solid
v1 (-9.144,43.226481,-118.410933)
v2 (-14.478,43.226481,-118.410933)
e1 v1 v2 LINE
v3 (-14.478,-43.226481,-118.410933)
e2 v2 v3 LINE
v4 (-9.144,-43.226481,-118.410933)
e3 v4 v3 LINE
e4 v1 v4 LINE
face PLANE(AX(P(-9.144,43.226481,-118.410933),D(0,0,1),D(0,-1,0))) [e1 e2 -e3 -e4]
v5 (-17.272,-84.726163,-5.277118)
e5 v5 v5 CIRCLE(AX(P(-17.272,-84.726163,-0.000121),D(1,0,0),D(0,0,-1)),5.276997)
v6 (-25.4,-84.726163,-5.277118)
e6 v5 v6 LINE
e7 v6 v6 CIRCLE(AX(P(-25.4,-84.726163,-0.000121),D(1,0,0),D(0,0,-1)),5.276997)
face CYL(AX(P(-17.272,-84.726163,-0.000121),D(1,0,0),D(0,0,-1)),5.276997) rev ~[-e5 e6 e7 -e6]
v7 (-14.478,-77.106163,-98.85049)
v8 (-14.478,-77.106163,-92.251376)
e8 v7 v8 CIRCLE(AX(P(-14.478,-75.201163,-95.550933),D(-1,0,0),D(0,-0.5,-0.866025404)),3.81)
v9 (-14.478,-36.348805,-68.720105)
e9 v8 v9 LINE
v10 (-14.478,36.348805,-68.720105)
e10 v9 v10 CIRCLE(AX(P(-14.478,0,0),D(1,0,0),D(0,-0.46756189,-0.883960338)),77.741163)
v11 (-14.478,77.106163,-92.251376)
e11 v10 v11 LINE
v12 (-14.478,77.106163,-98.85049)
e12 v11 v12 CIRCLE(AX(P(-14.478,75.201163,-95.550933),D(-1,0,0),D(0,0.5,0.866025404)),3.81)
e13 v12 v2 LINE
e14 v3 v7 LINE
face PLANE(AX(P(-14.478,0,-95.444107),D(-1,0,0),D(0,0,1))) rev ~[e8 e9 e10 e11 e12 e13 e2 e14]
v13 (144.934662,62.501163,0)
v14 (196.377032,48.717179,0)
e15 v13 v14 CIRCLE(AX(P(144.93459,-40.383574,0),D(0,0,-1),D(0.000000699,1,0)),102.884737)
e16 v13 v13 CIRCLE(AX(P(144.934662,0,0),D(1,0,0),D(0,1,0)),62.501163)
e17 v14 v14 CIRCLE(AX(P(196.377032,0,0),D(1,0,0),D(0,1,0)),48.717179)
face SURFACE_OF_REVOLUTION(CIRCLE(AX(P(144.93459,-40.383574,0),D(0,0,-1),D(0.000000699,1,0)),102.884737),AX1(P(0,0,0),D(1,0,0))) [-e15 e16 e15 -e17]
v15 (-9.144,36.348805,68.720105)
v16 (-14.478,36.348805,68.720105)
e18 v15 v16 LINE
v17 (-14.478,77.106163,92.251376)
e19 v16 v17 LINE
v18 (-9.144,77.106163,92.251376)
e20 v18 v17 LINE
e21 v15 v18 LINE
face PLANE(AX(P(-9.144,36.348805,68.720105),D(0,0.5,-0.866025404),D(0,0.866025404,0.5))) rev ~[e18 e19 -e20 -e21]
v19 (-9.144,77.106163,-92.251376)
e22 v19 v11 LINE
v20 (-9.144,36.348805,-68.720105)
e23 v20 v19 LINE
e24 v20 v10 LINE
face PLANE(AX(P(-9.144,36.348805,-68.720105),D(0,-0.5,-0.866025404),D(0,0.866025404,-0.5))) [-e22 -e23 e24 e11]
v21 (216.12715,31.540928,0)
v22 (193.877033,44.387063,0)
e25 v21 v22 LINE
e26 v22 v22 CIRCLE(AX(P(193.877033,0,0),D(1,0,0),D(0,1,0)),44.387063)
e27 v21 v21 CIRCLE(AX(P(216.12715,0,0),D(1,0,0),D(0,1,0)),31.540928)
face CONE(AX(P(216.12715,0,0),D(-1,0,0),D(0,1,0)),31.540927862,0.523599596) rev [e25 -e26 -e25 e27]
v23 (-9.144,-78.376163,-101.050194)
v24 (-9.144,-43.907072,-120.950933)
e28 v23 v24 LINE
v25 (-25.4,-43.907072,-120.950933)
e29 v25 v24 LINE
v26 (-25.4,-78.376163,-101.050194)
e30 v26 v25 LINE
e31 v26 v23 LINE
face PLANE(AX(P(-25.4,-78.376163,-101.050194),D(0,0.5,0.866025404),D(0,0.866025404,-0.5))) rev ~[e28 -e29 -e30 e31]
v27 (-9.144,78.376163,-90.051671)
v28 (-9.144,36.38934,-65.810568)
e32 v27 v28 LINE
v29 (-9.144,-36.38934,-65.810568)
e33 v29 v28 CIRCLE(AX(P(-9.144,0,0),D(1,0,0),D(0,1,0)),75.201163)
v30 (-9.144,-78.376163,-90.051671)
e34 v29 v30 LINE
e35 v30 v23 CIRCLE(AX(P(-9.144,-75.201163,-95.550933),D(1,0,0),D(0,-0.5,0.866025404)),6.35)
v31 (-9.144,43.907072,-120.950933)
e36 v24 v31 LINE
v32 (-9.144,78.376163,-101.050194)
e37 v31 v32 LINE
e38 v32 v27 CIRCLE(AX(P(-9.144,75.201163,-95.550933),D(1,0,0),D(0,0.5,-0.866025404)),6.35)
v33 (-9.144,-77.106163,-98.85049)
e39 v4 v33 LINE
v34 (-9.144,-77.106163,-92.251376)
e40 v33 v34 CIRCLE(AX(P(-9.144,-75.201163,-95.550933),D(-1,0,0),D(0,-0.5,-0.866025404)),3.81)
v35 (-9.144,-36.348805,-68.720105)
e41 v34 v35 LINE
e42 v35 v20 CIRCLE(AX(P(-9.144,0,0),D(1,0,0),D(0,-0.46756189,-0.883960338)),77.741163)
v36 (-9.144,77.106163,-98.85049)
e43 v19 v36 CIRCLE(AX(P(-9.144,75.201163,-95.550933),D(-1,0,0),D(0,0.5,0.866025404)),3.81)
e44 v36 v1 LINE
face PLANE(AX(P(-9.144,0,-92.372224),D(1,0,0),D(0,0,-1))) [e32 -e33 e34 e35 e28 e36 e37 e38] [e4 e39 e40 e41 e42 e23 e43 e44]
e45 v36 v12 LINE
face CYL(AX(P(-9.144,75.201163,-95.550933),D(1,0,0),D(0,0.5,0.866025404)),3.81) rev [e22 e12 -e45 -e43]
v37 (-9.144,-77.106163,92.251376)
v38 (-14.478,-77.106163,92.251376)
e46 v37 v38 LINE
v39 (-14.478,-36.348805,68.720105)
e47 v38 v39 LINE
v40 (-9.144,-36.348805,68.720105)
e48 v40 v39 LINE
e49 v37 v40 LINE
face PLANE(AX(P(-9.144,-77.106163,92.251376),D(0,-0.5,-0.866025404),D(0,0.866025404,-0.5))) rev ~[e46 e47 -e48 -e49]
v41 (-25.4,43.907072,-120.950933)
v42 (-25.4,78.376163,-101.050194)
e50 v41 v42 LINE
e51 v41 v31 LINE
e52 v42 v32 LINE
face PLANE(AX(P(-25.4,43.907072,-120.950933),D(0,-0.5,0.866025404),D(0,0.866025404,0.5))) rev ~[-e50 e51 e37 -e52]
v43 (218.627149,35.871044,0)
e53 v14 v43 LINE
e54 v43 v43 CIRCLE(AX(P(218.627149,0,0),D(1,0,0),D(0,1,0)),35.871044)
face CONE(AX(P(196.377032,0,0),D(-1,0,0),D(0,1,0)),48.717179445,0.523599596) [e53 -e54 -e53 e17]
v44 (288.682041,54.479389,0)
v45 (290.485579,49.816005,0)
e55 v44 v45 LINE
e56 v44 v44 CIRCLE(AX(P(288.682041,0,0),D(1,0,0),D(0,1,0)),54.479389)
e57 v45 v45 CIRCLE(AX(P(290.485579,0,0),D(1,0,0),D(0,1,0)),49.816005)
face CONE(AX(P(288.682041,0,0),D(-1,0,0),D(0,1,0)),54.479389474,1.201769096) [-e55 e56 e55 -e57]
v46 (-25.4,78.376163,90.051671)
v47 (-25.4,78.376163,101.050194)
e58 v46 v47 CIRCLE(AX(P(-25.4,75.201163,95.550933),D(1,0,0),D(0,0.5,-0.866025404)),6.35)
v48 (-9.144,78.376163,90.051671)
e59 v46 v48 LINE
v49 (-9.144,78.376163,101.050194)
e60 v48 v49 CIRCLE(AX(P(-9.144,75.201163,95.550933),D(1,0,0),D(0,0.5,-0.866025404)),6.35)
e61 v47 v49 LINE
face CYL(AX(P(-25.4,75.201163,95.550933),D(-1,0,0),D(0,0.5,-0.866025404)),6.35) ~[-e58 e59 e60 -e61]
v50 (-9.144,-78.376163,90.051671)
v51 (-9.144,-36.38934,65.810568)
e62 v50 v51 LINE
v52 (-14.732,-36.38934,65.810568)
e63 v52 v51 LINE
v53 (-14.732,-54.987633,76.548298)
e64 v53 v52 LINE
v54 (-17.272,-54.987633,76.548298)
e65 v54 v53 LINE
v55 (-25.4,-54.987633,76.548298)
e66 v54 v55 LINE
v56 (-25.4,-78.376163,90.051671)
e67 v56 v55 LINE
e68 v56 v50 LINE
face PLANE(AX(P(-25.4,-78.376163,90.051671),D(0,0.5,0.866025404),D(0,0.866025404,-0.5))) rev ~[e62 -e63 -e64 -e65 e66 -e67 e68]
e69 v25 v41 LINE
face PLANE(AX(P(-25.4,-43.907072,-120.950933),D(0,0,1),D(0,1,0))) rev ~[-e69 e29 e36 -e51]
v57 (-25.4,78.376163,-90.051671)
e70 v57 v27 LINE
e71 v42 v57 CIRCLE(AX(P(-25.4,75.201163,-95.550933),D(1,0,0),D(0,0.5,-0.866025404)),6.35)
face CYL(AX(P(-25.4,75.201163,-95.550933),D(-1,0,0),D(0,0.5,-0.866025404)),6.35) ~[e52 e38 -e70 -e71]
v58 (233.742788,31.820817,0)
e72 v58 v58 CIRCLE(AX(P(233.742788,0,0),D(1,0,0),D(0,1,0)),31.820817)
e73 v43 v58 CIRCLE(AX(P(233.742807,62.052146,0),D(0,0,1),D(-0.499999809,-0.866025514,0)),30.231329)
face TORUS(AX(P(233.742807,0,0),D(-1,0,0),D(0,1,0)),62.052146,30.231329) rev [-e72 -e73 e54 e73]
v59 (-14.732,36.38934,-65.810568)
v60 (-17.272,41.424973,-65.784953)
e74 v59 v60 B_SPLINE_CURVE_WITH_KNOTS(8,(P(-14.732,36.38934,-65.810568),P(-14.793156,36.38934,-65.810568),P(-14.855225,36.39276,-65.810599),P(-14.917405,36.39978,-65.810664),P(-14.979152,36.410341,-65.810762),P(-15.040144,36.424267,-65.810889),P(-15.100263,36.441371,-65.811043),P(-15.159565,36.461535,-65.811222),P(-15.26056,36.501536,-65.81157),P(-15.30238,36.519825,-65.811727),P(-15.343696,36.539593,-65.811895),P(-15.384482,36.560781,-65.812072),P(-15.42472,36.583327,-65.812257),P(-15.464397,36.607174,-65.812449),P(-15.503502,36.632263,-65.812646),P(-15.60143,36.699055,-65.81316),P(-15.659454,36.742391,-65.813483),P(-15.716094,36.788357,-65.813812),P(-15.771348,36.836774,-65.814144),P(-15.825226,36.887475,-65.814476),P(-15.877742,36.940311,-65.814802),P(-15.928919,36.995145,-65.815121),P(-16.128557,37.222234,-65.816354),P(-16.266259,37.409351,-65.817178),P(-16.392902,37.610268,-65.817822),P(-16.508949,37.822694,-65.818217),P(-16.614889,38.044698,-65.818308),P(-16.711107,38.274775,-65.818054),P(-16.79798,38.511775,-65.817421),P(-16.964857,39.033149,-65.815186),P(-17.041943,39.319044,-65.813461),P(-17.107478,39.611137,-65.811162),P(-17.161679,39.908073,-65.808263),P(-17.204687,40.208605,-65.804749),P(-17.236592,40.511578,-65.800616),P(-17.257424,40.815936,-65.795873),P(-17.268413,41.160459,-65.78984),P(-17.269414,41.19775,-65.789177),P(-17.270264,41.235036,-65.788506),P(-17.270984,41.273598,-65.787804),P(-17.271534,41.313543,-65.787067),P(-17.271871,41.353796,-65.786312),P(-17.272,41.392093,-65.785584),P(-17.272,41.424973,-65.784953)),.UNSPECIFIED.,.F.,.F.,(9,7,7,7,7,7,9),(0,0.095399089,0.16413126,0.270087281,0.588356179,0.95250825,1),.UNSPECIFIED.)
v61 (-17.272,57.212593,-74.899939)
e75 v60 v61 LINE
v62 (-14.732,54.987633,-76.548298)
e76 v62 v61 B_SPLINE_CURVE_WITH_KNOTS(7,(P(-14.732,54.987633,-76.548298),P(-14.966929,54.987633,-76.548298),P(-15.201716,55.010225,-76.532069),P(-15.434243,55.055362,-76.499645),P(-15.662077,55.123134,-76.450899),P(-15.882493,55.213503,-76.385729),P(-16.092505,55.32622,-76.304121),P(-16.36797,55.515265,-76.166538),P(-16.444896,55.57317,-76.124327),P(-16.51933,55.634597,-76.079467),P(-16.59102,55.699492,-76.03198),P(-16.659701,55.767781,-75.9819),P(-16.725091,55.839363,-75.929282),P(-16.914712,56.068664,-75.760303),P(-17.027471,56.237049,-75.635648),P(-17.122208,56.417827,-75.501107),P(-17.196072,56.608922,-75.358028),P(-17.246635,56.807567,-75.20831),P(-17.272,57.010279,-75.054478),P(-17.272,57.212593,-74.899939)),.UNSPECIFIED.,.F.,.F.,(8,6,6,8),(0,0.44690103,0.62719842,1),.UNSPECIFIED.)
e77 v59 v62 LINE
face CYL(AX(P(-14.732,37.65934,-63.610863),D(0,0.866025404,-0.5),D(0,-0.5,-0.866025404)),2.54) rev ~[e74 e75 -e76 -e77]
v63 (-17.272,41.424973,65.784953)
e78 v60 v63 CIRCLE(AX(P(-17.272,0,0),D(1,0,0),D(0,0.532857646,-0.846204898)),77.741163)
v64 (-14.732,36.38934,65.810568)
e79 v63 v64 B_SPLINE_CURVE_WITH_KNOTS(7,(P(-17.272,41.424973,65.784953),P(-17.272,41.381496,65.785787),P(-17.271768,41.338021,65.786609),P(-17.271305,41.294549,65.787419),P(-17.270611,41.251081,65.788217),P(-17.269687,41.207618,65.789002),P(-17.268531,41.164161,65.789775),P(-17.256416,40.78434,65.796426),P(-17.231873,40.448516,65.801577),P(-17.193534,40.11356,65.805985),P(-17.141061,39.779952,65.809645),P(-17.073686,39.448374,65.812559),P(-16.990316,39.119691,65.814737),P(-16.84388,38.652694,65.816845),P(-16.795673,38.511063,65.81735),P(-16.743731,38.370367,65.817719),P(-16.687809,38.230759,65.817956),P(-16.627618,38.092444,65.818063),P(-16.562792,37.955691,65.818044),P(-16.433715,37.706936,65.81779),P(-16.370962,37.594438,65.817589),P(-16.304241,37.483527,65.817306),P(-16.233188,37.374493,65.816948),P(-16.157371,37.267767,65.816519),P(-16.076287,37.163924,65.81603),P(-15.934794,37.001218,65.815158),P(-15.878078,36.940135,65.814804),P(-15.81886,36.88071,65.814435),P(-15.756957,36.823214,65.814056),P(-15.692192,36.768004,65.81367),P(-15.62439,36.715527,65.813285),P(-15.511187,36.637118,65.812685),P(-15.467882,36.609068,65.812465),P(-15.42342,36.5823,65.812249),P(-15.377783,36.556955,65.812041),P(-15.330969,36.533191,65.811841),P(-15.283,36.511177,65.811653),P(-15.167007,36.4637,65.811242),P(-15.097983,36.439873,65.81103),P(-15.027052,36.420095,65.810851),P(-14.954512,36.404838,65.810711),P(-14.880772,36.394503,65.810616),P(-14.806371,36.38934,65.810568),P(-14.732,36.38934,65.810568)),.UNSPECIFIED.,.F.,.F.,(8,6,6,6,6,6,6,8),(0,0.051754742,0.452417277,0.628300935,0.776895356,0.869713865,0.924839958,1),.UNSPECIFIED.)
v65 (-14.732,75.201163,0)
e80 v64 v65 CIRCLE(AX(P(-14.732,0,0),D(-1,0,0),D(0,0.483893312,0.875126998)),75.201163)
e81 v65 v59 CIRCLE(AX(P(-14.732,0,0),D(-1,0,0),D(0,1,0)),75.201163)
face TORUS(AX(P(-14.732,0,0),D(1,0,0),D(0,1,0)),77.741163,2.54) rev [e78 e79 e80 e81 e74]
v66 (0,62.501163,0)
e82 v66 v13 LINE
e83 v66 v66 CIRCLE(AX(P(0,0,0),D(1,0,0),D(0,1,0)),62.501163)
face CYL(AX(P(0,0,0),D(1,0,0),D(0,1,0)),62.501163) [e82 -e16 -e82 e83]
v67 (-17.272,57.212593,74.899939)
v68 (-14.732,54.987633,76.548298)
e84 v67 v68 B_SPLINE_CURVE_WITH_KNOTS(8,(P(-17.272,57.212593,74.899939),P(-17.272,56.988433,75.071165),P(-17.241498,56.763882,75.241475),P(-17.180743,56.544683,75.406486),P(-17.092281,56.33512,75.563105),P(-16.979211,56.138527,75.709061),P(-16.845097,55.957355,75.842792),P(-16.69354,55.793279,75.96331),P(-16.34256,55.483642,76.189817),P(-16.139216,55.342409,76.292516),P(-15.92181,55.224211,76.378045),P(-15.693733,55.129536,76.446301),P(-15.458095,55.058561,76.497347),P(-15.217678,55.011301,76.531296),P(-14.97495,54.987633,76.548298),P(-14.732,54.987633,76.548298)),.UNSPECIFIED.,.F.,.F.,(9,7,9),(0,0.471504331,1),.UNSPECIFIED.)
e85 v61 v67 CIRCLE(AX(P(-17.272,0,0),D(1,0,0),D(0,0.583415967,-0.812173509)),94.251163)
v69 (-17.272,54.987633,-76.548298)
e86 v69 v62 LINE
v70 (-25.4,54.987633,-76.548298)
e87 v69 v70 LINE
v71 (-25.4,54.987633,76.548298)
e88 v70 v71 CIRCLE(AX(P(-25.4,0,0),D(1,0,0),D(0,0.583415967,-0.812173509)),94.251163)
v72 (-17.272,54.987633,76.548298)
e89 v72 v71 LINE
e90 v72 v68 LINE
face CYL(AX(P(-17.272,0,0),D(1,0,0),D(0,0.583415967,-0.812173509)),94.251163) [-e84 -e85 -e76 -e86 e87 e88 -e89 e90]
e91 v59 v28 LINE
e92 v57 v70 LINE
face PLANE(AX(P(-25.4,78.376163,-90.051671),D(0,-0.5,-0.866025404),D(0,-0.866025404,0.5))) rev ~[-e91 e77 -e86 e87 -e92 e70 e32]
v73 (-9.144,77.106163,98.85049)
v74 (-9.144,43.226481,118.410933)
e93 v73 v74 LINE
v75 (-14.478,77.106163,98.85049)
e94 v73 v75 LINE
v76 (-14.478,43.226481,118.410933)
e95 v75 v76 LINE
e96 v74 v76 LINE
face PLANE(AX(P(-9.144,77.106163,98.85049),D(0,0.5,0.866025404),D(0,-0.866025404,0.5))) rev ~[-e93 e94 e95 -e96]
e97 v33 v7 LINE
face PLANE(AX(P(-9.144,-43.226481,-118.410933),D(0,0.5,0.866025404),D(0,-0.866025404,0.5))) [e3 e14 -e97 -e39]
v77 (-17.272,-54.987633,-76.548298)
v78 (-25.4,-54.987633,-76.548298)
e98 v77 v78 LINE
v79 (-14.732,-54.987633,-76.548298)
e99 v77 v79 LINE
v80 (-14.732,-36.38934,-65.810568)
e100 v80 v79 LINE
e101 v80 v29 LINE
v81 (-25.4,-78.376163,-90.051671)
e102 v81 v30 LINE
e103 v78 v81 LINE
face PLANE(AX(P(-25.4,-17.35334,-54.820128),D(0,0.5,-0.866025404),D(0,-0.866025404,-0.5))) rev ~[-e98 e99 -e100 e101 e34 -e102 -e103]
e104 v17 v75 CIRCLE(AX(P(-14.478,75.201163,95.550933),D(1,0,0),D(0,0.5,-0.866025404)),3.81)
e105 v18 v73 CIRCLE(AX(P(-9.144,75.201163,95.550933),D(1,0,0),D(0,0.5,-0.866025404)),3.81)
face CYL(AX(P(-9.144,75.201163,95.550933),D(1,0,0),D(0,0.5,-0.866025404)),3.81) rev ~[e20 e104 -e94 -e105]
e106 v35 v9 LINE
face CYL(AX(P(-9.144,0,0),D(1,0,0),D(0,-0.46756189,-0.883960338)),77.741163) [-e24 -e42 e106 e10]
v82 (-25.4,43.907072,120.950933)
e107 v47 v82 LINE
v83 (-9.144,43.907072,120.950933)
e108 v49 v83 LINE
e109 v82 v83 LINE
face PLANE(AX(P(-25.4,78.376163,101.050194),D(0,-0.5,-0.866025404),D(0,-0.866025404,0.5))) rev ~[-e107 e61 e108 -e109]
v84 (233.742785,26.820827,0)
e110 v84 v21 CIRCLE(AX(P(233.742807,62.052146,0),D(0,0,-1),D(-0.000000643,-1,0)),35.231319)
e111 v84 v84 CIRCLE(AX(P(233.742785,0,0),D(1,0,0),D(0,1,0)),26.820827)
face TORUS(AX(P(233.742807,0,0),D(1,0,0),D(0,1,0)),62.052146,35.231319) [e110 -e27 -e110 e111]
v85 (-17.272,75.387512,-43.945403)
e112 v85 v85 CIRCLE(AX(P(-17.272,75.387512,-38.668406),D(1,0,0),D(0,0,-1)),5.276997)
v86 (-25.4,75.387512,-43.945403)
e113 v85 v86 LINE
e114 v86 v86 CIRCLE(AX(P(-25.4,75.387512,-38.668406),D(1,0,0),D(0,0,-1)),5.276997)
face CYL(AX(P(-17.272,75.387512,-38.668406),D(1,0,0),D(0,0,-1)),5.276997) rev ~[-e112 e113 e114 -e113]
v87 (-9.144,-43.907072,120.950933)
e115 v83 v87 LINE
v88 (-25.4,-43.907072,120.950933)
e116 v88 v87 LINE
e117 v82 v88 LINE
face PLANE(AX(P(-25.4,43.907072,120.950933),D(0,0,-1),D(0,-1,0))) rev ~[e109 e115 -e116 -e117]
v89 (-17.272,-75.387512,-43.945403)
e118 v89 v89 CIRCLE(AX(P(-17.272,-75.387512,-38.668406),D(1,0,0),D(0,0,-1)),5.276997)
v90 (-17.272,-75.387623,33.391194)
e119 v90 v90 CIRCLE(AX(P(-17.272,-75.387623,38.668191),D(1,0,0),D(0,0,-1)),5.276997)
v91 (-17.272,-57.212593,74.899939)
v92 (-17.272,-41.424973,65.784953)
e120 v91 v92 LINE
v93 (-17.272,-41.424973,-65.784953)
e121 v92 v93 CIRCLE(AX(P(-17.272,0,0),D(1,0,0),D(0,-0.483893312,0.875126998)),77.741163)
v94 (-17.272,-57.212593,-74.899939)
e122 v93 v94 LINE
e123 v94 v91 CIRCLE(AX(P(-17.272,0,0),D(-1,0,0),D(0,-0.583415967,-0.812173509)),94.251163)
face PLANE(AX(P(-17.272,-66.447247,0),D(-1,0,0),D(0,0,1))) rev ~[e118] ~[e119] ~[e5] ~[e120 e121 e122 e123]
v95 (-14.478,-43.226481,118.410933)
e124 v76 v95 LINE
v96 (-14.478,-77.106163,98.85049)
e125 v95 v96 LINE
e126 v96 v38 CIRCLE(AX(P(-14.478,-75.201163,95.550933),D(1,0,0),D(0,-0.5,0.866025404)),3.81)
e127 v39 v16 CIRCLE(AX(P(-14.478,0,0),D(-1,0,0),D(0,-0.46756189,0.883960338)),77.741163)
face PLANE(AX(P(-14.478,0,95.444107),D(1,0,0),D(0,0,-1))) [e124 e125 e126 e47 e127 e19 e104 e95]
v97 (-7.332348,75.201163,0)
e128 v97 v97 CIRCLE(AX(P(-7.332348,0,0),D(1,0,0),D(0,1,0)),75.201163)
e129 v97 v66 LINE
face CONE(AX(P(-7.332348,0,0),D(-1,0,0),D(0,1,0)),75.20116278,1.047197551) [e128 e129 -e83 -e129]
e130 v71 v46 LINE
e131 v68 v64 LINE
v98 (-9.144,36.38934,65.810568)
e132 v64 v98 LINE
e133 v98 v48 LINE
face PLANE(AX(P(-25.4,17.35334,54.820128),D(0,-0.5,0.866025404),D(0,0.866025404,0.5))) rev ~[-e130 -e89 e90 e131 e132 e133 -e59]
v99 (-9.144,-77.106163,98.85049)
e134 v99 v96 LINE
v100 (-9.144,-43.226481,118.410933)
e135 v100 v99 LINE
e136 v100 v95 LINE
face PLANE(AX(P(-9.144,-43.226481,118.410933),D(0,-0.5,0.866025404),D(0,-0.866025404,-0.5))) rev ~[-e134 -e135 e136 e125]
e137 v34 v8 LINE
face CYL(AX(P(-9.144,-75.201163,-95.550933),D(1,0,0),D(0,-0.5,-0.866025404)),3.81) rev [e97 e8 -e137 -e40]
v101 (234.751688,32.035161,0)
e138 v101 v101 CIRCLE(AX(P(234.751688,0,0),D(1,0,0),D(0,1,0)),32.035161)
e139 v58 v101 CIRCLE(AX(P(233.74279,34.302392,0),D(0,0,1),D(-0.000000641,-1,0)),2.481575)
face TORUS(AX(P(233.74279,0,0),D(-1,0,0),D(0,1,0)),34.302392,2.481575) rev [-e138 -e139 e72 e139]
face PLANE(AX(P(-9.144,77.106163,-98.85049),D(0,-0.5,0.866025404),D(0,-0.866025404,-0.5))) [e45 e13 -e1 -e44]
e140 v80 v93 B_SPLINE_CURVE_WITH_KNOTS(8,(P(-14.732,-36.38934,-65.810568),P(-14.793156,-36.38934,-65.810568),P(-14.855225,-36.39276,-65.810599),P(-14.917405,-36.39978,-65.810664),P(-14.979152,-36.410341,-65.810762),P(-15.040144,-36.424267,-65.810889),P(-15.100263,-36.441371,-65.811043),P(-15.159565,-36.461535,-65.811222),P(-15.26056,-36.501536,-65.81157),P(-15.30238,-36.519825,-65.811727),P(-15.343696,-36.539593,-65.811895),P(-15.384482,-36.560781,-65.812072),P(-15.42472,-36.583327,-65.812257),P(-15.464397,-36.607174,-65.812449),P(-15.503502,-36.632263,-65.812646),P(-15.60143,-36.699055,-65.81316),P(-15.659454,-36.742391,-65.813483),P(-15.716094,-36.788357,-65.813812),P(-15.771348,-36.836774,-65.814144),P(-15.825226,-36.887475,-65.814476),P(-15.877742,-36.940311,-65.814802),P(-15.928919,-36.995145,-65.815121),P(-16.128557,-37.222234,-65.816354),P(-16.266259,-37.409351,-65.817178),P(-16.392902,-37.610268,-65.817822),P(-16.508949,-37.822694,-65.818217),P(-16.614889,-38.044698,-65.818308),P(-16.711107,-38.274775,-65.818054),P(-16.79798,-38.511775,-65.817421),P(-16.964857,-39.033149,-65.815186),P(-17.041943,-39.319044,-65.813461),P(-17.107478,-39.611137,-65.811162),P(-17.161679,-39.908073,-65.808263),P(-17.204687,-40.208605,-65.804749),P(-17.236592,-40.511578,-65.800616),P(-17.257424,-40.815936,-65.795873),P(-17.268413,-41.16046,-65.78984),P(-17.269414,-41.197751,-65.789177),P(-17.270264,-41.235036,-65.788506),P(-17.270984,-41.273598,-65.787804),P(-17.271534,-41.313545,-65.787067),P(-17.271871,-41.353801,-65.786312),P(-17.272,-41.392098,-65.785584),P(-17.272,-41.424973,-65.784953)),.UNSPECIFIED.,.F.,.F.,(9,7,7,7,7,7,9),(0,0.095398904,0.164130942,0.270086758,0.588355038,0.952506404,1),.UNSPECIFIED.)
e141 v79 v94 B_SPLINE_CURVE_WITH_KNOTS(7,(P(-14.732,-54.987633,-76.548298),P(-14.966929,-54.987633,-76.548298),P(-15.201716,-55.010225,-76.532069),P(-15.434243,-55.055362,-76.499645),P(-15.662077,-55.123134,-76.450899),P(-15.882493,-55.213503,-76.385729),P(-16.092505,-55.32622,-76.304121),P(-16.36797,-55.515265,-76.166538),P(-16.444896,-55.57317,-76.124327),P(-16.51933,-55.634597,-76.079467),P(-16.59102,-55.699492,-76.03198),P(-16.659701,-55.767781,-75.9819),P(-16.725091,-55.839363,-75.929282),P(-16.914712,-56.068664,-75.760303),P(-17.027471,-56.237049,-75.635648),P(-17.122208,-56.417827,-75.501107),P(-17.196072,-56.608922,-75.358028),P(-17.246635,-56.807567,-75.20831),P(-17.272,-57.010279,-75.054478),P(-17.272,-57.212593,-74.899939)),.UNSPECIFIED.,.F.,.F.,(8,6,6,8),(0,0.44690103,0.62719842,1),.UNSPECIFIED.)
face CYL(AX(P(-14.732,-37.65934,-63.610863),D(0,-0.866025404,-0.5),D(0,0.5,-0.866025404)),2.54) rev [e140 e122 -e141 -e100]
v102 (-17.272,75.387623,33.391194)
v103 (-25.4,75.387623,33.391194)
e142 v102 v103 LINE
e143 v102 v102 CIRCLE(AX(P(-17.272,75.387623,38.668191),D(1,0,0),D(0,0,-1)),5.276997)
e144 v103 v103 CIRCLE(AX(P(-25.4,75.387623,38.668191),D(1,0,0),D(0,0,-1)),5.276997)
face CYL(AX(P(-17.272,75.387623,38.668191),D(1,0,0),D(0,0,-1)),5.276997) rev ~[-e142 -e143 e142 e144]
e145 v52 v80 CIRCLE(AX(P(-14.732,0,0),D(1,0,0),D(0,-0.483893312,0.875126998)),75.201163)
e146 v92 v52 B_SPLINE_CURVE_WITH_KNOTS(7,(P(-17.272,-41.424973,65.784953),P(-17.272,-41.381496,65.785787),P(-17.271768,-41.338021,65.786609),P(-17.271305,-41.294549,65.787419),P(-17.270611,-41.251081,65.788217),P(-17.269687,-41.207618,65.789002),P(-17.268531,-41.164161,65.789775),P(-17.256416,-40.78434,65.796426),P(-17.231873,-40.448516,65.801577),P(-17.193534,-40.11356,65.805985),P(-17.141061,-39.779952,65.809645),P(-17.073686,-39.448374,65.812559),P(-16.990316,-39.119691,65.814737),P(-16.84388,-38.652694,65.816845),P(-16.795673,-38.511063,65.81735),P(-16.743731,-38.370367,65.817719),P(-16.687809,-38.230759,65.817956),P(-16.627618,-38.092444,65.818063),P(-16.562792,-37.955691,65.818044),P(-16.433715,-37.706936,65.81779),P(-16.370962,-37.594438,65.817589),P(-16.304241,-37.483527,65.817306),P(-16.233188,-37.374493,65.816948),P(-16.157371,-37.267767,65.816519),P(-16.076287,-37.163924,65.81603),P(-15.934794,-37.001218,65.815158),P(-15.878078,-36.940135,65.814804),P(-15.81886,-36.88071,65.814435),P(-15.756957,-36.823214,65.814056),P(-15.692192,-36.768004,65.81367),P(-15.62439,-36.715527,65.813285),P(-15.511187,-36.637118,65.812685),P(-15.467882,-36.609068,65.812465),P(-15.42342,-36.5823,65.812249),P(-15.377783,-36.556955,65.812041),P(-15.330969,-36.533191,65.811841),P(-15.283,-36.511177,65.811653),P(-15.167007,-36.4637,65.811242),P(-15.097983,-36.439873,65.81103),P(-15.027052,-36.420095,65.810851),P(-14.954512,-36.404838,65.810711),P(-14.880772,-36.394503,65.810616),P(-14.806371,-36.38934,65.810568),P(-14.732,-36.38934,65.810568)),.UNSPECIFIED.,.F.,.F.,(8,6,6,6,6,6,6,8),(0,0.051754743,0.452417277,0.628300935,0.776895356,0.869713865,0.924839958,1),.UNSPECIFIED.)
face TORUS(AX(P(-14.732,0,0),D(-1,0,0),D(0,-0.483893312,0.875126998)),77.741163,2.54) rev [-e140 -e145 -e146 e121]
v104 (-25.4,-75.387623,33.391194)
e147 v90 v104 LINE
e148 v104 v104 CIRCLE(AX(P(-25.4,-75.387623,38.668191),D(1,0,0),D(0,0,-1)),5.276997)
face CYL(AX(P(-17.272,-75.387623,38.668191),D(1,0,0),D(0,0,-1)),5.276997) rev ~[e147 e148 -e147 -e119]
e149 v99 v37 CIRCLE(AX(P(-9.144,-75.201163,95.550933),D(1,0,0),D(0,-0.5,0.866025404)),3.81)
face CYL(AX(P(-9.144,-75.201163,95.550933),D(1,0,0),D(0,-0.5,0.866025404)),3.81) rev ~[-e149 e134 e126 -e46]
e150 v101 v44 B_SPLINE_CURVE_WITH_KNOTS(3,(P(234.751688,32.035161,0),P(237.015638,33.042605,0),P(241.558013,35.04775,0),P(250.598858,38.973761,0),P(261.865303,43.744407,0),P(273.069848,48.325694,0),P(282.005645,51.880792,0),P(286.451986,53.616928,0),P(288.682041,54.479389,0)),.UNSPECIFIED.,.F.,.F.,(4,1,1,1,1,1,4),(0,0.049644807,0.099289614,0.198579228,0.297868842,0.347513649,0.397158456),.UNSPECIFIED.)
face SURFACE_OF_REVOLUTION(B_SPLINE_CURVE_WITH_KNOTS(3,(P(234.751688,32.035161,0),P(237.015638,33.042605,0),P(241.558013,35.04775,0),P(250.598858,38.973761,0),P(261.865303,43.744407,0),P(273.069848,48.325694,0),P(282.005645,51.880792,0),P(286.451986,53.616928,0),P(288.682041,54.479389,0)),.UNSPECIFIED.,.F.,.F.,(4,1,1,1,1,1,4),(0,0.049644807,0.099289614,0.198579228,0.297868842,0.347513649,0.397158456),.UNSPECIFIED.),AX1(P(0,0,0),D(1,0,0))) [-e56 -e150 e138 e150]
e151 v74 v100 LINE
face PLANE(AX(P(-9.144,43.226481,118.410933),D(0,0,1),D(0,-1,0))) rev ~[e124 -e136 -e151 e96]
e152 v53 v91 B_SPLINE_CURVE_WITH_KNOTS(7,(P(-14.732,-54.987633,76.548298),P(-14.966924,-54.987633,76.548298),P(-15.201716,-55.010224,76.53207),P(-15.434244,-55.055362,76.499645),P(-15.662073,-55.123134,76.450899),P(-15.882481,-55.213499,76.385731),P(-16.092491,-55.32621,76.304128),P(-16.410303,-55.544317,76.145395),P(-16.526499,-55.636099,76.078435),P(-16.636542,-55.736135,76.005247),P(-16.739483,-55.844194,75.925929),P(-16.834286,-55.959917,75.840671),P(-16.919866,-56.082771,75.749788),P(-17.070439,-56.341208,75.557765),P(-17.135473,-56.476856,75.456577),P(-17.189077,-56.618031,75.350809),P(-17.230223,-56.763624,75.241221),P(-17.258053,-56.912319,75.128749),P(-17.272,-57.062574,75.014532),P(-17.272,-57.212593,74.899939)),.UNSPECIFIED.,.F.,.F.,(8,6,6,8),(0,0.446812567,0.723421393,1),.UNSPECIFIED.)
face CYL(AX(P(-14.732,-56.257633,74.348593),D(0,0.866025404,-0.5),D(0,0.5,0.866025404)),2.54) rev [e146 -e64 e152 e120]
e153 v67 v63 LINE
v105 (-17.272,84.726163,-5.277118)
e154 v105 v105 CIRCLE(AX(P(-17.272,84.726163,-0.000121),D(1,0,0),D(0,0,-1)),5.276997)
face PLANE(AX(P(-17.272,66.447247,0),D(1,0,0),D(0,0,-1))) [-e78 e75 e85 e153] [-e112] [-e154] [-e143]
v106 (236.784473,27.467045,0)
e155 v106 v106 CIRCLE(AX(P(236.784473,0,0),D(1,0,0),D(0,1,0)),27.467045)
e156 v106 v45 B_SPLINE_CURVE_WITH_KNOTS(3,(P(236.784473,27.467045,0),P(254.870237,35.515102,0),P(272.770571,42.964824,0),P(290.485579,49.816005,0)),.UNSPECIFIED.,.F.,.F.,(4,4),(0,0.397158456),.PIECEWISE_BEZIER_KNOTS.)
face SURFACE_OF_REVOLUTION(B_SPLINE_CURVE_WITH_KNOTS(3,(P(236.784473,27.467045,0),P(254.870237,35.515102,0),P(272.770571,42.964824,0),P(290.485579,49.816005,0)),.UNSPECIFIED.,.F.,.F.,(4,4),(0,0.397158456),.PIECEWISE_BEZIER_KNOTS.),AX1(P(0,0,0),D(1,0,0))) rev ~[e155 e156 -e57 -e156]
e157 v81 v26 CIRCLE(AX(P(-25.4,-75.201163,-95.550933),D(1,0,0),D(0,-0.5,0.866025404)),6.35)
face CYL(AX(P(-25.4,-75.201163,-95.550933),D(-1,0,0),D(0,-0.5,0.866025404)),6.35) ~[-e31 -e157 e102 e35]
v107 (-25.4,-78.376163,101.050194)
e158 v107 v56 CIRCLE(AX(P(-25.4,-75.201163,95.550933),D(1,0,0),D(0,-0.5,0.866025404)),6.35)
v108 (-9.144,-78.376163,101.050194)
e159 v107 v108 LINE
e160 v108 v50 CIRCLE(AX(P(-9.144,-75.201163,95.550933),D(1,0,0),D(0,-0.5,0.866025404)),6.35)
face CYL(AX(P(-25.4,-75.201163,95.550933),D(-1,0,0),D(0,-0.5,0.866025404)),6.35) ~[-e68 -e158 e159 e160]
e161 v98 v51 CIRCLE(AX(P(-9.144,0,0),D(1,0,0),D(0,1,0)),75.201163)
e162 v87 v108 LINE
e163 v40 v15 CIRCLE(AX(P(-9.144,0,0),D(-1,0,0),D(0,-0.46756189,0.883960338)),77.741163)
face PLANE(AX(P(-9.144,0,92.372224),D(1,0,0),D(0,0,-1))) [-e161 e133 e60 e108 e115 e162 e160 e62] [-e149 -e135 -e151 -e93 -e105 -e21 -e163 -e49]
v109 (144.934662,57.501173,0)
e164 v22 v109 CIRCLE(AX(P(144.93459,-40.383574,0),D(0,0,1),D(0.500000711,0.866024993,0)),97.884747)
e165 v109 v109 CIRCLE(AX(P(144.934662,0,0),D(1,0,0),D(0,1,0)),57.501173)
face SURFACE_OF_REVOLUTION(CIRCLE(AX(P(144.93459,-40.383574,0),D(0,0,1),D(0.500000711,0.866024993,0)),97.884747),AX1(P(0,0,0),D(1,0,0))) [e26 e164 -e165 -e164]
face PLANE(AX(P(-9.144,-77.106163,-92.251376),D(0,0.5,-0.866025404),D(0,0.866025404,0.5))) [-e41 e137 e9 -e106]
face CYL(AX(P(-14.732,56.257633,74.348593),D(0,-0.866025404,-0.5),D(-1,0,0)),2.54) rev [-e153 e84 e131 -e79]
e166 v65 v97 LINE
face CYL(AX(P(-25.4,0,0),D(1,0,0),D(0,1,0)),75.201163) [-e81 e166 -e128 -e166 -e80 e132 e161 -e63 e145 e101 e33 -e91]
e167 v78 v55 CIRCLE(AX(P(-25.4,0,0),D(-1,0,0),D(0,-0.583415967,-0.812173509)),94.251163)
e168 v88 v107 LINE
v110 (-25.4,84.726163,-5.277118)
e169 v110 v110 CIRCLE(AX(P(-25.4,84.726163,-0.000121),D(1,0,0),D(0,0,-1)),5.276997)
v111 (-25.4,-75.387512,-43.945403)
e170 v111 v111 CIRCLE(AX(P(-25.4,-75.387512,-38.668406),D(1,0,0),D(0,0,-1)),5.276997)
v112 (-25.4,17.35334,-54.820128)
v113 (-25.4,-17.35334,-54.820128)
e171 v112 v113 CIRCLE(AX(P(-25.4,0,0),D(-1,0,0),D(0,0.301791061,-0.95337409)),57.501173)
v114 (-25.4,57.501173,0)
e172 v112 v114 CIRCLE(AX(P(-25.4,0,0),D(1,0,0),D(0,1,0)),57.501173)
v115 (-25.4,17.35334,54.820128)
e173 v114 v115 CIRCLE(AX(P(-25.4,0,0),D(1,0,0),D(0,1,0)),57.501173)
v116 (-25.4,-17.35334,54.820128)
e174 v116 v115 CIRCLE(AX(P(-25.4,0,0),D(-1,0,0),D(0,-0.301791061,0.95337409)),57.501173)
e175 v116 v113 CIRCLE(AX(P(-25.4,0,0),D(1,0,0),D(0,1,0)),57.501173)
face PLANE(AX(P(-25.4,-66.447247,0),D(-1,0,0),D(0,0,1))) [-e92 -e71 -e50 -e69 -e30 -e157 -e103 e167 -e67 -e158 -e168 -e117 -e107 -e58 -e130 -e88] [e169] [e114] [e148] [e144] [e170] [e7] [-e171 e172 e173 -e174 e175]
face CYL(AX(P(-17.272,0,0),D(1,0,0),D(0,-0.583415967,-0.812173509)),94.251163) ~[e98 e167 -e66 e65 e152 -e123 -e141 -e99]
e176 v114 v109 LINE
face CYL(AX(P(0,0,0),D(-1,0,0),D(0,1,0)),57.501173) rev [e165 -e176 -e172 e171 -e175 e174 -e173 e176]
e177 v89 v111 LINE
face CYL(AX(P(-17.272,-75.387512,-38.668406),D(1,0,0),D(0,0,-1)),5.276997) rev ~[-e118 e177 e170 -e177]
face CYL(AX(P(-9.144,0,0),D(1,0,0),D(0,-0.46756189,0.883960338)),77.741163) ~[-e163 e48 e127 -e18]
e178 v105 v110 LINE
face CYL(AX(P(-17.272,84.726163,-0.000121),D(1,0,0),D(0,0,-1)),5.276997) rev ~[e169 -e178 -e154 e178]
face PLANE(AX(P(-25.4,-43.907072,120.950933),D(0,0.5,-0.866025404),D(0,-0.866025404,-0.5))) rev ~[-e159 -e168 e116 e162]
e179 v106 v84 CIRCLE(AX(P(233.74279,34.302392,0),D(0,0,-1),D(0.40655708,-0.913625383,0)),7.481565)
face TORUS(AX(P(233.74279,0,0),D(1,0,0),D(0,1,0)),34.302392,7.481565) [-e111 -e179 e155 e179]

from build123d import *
from build123d.topology import SkipClean

# Parameters (mm, degrees)
BOSS_EXTRUDE1_DEPTH = 16.256
CUT_EXTRUDE1_DEPTH  = 5.334
BOSS_EXTRUDE2_START = -8.128
BOSS_EXTRUDE2_DEPTH = 8.128
FILLET2_R           = 2.54
SKETCH9_R           = 5.276996688
CUT_EXTRUDE2_DEPTH  = 344.8417333


with BuildPart() as part:
    # Sketch3 → Revolve1 (revolve)
    with BuildSketch(Plane.XY):
        with BuildLine():
            Line((0, 62.50116278), (144.934662069, 62.50116278))
            ThreePointArc((144.934662069, 62.50116278), (171.563195097, 58.995430145), (196.377031865, 48.717179445))
            Line((196.377031865, 48.717179445), (218.627148666, 35.871044168))
            ThreePointArc((218.627148666, 35.871044168), (225.918357505, 32.850926621), (233.742787922, 31.820817416))
            ThreePointArc((233.742787922, 31.820817416), (234.25849688, 31.874994553), (234.751688107, 32.035161047))
            add(Edge.make_bspline(
                [(234.751688107, 32.035161047), (237.01563786, 33.042605222), (241.558012865, 35.047750332), (250.598858454, 38.973761134), (261.865302755, 43.744407277), (273.069848062, 48.325693823), (282.005645487, 51.880791718), (286.451986012, 53.616927894), (288.682041358, 54.479389474)],
                knots=[0, 0, 0, 0, 0.049644807, 0.099289614, 0.198579228, 0.297868842, 0.347513649, 0.397158456, 0.397158456, 0.397158456, 0.397158456], degree=3))
            Line((288.682041358, 54.479389474), (290.485579361, 49.816005438))
            add(Edge.make_bspline(
                [(236.784472704, 27.467044719), (254.870236719, 35.51510214), (272.770570963, 42.964823847), (290.485579361, 49.816005438)],
                knots=[0, 0, 0, 0, 0.397158456, 0.397158456, 0.397158456, 0.397158456], degree=3))
            ThreePointArc((236.784472704, 27.467044719), (235.297572794, 26.98416423), (233.742784709, 26.820827416))
            ThreePointArc((233.742784709, 26.820827416), (224.624261333, 28.021308096), (216.127150111, 31.540927862))
            Line((216.127150111, 31.540927862), (193.87703331, 44.387063139))
            ThreePointArc((193.87703331, 44.387063139), (170.269100478, 54.165811204), (144.934662069, 57.50117278))
            Line((144.934662069, 57.50117278), (0, 57.50117278))
            Line((0, 57.50117278), (0, 62.50116278))
        make_face()
    revolve(axis=Axis((0, 0, 0), (1, 0, 0)))

    # Sketch4 → Revolve5 (revolve)
    with BuildSketch(Plane.XY):
        Polygon((-25.4, 57.50117278), (-25.4, 75.20116278), (-7.332348419, 75.20116278), (0, 62.50116278), (0, 57.50117278), align=None)
    revolve(axis=Axis((0, 0, 0), (1, 0, 0)))

    # Sketch6 → Boss-Extrude1 (add)
    with SkipClean():  # the faces are left unmerged after this step: merging them gives an invalid solid
        with BuildSketch(Plane.ZY.offset(25.4)):
            with BuildLine():
                Line((54.820128271, 17.35333995), (90.051671459, 78.37616278))
                ThreePointArc((90.051671459, 78.37616278), (95.550932773, 81.55116278), (101.050194087, 78.37616278))
                Line((101.050194087, 78.37616278), (120.950932773, 43.907072268))
                Line((120.950932773, 43.907072268), (120.950932773, -43.907072268))
                Line((120.950932773, -43.907072268), (101.050194087, -78.37616278))
                ThreePointArc((101.050194087, -78.37616278), (95.550932773, -81.55116278), (90.051671459, -78.37616278))
                Line((90.051671459, -78.37616278), (54.820128271, -17.35333995))
                ThreePointArc((54.820128271, -17.35333995), (57.50117278, 0), (54.820128271, 17.35333995))
            make_face()
            with BuildLine():
                Line((-54.820128271, -17.35333995), (-90.051671459, -78.37616278))
                ThreePointArc((-90.051671459, -78.37616278), (-95.550932773, -81.55116278), (-101.050194087, -78.37616278))
                Line((-101.050194087, -78.37616278), (-120.950932773, -43.907072268))
                Line((-120.950932773, -43.907072268), (-120.950932773, 43.907072268))
                Line((-120.950932773, 43.907072268), (-101.050194087, 78.37616278))
                ThreePointArc((-101.050194087, 78.37616278), (-95.550932773, 81.55116278), (-90.051671459, 78.37616278))
                Line((-90.051671459, 78.37616278), (-54.820128271, 17.35333995))
                ThreePointArc((-54.820128271, 17.35333995), (-57.50117278, 0), (-54.820128271, -17.35333995))
            make_face()
        extrude(amount=-BOSS_EXTRUDE1_DEPTH)

    # Sketch7 → Cut-Extrude1 (cut)
    with SkipClean():  # the faces are left unmerged after this step: merging them gives an invalid solid
        with BuildSketch(Plane(origin=(-9.144, 0, 0), x_dir=(0, 0, -1), z_dir=(1, 0, 0))):
            with BuildLine():
                Line((-68.720104511, 36.34880502), (-92.251375985, 77.10616278))
                ThreePointArc((-92.251375985, 77.10616278), (-95.550932773, 79.01116278), (-98.850489562, 77.10616278))
                Line((-98.850489562, 77.10616278), (-118.410932773, 43.226481319))
                Line((-118.410932773, 43.226481319), (-118.410932773, -43.226481319))
                Line((-118.410932773, -43.226481319), (-98.850489562, -77.10616278))
                ThreePointArc((-98.850489562, -77.10616278), (-95.550932773, -79.01116278), (-92.251375985, -77.10616278))
                Line((-92.251375985, -77.10616278), (-68.720104511, -36.34880502))
                ThreePointArc((-68.720104511, -36.34880502), (-77.74116278, 0), (-68.720104511, 36.34880502))
            make_face()
            with BuildLine():
                Line((92.251375985, -77.10616278), (68.720104511, -36.34880502))
                ThreePointArc((68.720104511, -36.34880502), (77.74116278, 0), (68.720104511, 36.34880502))
                Line((68.720104511, 36.34880502), (92.251375985, 77.10616278))
                ThreePointArc((92.251375985, 77.10616278), (95.550932773, 79.01116278), (98.850489562, 77.10616278))
                Line((98.850489562, 77.10616278), (118.410932773, 43.226481319))
                Line((118.410932773, 43.226481319), (118.410932773, -43.226481319))
                Line((118.410932773, -43.226481319), (98.850489562, -77.10616278))
                ThreePointArc((98.850489562, -77.10616278), (95.550932773, -79.01116278), (92.251375985, -77.10616278))
            make_face()
        extrude(amount=-CUT_EXTRUDE1_DEPTH, mode=Mode.SUBTRACT)

    # Sketch8 → Boss-Extrude2 (add)
    with SkipClean():  # the faces are left unmerged after this step: merging them gives an invalid solid
        with BuildSketch(Plane.ZY.offset(25.4).offset(BOSS_EXTRUDE2_START)):
            with BuildLine():
                Line((-65.810567847, -36.389339691), (-76.548297649, -54.987633268))
                ThreePointArc((-76.548297649, -54.987633268), (0, -94.25116278), (76.548297649, -54.987633268))
                Line((76.548297649, -54.987633268), (65.810567847, -36.389339691))
                ThreePointArc((65.810567847, -36.389339691), (0, -75.20116278), (-65.810567847, -36.389339691))
            make_face()
            with BuildLine():
                Line((76.548297649, 54.987633268), (65.810567847, 36.389339691))
                ThreePointArc((65.810567847, 36.389339691), (0, 75.20116278), (-65.810567847, 36.389339691))
                Line((-65.810567847, 36.389339691), (-76.548297649, 54.987633268))
                ThreePointArc((-76.548297649, 54.987633268), (0, 94.25116278), (76.548297649, 54.987633268))
            make_face()
        extrude(amount=BOSS_EXTRUDE2_DEPTH)

    # Fillet2
    fillet2_edges = [part.edges().sort_by_distance(p)[0] for p in [
        (-17.272, -45.68848648, -71.179432748),
        (-17.272, -75.20116278, 0),
        (-17.272, -45.68848648, 71.179432748),
        (-17.272, 45.68848648, 71.179432748),
        (-17.272, 64.775518296, 38.201401976),
        (-17.272, 45.68848648, -71.179432748),
    ]]
    fillet(fillet2_edges, radius=FILLET2_R)

    # Sketch9 → Cut-Extrude2 (cut, through all)
    with SkipClean():  # the faces are left unmerged after this step: merging them gives an invalid solid
        with BuildSketch(Plane(origin=(-17.272, 0, 0), x_dir=(0, 0, -1), z_dir=(1, 0, 0))):
            with Locations((-38.668190551, 75.387622983)):
                Circle(SKETCH9_R)
            with Locations((0.000121249, 84.72616278)):
                Circle(SKETCH9_R)
            with Locations((38.66840632, 75.387512308)):
                Circle(SKETCH9_R)
            with Locations((38.66840632, -75.387512308)):
                Circle(SKETCH9_R)
            with Locations((0.000121249, -84.72616278)):
                Circle(SKETCH9_R)
            with Locations((-38.668190551, -75.387622983)):
                Circle(SKETCH9_R)
        extrude(amount=-CUT_EXTRUDE2_DEPTH, mode=Mode.SUBTRACT)


solid = part.part
